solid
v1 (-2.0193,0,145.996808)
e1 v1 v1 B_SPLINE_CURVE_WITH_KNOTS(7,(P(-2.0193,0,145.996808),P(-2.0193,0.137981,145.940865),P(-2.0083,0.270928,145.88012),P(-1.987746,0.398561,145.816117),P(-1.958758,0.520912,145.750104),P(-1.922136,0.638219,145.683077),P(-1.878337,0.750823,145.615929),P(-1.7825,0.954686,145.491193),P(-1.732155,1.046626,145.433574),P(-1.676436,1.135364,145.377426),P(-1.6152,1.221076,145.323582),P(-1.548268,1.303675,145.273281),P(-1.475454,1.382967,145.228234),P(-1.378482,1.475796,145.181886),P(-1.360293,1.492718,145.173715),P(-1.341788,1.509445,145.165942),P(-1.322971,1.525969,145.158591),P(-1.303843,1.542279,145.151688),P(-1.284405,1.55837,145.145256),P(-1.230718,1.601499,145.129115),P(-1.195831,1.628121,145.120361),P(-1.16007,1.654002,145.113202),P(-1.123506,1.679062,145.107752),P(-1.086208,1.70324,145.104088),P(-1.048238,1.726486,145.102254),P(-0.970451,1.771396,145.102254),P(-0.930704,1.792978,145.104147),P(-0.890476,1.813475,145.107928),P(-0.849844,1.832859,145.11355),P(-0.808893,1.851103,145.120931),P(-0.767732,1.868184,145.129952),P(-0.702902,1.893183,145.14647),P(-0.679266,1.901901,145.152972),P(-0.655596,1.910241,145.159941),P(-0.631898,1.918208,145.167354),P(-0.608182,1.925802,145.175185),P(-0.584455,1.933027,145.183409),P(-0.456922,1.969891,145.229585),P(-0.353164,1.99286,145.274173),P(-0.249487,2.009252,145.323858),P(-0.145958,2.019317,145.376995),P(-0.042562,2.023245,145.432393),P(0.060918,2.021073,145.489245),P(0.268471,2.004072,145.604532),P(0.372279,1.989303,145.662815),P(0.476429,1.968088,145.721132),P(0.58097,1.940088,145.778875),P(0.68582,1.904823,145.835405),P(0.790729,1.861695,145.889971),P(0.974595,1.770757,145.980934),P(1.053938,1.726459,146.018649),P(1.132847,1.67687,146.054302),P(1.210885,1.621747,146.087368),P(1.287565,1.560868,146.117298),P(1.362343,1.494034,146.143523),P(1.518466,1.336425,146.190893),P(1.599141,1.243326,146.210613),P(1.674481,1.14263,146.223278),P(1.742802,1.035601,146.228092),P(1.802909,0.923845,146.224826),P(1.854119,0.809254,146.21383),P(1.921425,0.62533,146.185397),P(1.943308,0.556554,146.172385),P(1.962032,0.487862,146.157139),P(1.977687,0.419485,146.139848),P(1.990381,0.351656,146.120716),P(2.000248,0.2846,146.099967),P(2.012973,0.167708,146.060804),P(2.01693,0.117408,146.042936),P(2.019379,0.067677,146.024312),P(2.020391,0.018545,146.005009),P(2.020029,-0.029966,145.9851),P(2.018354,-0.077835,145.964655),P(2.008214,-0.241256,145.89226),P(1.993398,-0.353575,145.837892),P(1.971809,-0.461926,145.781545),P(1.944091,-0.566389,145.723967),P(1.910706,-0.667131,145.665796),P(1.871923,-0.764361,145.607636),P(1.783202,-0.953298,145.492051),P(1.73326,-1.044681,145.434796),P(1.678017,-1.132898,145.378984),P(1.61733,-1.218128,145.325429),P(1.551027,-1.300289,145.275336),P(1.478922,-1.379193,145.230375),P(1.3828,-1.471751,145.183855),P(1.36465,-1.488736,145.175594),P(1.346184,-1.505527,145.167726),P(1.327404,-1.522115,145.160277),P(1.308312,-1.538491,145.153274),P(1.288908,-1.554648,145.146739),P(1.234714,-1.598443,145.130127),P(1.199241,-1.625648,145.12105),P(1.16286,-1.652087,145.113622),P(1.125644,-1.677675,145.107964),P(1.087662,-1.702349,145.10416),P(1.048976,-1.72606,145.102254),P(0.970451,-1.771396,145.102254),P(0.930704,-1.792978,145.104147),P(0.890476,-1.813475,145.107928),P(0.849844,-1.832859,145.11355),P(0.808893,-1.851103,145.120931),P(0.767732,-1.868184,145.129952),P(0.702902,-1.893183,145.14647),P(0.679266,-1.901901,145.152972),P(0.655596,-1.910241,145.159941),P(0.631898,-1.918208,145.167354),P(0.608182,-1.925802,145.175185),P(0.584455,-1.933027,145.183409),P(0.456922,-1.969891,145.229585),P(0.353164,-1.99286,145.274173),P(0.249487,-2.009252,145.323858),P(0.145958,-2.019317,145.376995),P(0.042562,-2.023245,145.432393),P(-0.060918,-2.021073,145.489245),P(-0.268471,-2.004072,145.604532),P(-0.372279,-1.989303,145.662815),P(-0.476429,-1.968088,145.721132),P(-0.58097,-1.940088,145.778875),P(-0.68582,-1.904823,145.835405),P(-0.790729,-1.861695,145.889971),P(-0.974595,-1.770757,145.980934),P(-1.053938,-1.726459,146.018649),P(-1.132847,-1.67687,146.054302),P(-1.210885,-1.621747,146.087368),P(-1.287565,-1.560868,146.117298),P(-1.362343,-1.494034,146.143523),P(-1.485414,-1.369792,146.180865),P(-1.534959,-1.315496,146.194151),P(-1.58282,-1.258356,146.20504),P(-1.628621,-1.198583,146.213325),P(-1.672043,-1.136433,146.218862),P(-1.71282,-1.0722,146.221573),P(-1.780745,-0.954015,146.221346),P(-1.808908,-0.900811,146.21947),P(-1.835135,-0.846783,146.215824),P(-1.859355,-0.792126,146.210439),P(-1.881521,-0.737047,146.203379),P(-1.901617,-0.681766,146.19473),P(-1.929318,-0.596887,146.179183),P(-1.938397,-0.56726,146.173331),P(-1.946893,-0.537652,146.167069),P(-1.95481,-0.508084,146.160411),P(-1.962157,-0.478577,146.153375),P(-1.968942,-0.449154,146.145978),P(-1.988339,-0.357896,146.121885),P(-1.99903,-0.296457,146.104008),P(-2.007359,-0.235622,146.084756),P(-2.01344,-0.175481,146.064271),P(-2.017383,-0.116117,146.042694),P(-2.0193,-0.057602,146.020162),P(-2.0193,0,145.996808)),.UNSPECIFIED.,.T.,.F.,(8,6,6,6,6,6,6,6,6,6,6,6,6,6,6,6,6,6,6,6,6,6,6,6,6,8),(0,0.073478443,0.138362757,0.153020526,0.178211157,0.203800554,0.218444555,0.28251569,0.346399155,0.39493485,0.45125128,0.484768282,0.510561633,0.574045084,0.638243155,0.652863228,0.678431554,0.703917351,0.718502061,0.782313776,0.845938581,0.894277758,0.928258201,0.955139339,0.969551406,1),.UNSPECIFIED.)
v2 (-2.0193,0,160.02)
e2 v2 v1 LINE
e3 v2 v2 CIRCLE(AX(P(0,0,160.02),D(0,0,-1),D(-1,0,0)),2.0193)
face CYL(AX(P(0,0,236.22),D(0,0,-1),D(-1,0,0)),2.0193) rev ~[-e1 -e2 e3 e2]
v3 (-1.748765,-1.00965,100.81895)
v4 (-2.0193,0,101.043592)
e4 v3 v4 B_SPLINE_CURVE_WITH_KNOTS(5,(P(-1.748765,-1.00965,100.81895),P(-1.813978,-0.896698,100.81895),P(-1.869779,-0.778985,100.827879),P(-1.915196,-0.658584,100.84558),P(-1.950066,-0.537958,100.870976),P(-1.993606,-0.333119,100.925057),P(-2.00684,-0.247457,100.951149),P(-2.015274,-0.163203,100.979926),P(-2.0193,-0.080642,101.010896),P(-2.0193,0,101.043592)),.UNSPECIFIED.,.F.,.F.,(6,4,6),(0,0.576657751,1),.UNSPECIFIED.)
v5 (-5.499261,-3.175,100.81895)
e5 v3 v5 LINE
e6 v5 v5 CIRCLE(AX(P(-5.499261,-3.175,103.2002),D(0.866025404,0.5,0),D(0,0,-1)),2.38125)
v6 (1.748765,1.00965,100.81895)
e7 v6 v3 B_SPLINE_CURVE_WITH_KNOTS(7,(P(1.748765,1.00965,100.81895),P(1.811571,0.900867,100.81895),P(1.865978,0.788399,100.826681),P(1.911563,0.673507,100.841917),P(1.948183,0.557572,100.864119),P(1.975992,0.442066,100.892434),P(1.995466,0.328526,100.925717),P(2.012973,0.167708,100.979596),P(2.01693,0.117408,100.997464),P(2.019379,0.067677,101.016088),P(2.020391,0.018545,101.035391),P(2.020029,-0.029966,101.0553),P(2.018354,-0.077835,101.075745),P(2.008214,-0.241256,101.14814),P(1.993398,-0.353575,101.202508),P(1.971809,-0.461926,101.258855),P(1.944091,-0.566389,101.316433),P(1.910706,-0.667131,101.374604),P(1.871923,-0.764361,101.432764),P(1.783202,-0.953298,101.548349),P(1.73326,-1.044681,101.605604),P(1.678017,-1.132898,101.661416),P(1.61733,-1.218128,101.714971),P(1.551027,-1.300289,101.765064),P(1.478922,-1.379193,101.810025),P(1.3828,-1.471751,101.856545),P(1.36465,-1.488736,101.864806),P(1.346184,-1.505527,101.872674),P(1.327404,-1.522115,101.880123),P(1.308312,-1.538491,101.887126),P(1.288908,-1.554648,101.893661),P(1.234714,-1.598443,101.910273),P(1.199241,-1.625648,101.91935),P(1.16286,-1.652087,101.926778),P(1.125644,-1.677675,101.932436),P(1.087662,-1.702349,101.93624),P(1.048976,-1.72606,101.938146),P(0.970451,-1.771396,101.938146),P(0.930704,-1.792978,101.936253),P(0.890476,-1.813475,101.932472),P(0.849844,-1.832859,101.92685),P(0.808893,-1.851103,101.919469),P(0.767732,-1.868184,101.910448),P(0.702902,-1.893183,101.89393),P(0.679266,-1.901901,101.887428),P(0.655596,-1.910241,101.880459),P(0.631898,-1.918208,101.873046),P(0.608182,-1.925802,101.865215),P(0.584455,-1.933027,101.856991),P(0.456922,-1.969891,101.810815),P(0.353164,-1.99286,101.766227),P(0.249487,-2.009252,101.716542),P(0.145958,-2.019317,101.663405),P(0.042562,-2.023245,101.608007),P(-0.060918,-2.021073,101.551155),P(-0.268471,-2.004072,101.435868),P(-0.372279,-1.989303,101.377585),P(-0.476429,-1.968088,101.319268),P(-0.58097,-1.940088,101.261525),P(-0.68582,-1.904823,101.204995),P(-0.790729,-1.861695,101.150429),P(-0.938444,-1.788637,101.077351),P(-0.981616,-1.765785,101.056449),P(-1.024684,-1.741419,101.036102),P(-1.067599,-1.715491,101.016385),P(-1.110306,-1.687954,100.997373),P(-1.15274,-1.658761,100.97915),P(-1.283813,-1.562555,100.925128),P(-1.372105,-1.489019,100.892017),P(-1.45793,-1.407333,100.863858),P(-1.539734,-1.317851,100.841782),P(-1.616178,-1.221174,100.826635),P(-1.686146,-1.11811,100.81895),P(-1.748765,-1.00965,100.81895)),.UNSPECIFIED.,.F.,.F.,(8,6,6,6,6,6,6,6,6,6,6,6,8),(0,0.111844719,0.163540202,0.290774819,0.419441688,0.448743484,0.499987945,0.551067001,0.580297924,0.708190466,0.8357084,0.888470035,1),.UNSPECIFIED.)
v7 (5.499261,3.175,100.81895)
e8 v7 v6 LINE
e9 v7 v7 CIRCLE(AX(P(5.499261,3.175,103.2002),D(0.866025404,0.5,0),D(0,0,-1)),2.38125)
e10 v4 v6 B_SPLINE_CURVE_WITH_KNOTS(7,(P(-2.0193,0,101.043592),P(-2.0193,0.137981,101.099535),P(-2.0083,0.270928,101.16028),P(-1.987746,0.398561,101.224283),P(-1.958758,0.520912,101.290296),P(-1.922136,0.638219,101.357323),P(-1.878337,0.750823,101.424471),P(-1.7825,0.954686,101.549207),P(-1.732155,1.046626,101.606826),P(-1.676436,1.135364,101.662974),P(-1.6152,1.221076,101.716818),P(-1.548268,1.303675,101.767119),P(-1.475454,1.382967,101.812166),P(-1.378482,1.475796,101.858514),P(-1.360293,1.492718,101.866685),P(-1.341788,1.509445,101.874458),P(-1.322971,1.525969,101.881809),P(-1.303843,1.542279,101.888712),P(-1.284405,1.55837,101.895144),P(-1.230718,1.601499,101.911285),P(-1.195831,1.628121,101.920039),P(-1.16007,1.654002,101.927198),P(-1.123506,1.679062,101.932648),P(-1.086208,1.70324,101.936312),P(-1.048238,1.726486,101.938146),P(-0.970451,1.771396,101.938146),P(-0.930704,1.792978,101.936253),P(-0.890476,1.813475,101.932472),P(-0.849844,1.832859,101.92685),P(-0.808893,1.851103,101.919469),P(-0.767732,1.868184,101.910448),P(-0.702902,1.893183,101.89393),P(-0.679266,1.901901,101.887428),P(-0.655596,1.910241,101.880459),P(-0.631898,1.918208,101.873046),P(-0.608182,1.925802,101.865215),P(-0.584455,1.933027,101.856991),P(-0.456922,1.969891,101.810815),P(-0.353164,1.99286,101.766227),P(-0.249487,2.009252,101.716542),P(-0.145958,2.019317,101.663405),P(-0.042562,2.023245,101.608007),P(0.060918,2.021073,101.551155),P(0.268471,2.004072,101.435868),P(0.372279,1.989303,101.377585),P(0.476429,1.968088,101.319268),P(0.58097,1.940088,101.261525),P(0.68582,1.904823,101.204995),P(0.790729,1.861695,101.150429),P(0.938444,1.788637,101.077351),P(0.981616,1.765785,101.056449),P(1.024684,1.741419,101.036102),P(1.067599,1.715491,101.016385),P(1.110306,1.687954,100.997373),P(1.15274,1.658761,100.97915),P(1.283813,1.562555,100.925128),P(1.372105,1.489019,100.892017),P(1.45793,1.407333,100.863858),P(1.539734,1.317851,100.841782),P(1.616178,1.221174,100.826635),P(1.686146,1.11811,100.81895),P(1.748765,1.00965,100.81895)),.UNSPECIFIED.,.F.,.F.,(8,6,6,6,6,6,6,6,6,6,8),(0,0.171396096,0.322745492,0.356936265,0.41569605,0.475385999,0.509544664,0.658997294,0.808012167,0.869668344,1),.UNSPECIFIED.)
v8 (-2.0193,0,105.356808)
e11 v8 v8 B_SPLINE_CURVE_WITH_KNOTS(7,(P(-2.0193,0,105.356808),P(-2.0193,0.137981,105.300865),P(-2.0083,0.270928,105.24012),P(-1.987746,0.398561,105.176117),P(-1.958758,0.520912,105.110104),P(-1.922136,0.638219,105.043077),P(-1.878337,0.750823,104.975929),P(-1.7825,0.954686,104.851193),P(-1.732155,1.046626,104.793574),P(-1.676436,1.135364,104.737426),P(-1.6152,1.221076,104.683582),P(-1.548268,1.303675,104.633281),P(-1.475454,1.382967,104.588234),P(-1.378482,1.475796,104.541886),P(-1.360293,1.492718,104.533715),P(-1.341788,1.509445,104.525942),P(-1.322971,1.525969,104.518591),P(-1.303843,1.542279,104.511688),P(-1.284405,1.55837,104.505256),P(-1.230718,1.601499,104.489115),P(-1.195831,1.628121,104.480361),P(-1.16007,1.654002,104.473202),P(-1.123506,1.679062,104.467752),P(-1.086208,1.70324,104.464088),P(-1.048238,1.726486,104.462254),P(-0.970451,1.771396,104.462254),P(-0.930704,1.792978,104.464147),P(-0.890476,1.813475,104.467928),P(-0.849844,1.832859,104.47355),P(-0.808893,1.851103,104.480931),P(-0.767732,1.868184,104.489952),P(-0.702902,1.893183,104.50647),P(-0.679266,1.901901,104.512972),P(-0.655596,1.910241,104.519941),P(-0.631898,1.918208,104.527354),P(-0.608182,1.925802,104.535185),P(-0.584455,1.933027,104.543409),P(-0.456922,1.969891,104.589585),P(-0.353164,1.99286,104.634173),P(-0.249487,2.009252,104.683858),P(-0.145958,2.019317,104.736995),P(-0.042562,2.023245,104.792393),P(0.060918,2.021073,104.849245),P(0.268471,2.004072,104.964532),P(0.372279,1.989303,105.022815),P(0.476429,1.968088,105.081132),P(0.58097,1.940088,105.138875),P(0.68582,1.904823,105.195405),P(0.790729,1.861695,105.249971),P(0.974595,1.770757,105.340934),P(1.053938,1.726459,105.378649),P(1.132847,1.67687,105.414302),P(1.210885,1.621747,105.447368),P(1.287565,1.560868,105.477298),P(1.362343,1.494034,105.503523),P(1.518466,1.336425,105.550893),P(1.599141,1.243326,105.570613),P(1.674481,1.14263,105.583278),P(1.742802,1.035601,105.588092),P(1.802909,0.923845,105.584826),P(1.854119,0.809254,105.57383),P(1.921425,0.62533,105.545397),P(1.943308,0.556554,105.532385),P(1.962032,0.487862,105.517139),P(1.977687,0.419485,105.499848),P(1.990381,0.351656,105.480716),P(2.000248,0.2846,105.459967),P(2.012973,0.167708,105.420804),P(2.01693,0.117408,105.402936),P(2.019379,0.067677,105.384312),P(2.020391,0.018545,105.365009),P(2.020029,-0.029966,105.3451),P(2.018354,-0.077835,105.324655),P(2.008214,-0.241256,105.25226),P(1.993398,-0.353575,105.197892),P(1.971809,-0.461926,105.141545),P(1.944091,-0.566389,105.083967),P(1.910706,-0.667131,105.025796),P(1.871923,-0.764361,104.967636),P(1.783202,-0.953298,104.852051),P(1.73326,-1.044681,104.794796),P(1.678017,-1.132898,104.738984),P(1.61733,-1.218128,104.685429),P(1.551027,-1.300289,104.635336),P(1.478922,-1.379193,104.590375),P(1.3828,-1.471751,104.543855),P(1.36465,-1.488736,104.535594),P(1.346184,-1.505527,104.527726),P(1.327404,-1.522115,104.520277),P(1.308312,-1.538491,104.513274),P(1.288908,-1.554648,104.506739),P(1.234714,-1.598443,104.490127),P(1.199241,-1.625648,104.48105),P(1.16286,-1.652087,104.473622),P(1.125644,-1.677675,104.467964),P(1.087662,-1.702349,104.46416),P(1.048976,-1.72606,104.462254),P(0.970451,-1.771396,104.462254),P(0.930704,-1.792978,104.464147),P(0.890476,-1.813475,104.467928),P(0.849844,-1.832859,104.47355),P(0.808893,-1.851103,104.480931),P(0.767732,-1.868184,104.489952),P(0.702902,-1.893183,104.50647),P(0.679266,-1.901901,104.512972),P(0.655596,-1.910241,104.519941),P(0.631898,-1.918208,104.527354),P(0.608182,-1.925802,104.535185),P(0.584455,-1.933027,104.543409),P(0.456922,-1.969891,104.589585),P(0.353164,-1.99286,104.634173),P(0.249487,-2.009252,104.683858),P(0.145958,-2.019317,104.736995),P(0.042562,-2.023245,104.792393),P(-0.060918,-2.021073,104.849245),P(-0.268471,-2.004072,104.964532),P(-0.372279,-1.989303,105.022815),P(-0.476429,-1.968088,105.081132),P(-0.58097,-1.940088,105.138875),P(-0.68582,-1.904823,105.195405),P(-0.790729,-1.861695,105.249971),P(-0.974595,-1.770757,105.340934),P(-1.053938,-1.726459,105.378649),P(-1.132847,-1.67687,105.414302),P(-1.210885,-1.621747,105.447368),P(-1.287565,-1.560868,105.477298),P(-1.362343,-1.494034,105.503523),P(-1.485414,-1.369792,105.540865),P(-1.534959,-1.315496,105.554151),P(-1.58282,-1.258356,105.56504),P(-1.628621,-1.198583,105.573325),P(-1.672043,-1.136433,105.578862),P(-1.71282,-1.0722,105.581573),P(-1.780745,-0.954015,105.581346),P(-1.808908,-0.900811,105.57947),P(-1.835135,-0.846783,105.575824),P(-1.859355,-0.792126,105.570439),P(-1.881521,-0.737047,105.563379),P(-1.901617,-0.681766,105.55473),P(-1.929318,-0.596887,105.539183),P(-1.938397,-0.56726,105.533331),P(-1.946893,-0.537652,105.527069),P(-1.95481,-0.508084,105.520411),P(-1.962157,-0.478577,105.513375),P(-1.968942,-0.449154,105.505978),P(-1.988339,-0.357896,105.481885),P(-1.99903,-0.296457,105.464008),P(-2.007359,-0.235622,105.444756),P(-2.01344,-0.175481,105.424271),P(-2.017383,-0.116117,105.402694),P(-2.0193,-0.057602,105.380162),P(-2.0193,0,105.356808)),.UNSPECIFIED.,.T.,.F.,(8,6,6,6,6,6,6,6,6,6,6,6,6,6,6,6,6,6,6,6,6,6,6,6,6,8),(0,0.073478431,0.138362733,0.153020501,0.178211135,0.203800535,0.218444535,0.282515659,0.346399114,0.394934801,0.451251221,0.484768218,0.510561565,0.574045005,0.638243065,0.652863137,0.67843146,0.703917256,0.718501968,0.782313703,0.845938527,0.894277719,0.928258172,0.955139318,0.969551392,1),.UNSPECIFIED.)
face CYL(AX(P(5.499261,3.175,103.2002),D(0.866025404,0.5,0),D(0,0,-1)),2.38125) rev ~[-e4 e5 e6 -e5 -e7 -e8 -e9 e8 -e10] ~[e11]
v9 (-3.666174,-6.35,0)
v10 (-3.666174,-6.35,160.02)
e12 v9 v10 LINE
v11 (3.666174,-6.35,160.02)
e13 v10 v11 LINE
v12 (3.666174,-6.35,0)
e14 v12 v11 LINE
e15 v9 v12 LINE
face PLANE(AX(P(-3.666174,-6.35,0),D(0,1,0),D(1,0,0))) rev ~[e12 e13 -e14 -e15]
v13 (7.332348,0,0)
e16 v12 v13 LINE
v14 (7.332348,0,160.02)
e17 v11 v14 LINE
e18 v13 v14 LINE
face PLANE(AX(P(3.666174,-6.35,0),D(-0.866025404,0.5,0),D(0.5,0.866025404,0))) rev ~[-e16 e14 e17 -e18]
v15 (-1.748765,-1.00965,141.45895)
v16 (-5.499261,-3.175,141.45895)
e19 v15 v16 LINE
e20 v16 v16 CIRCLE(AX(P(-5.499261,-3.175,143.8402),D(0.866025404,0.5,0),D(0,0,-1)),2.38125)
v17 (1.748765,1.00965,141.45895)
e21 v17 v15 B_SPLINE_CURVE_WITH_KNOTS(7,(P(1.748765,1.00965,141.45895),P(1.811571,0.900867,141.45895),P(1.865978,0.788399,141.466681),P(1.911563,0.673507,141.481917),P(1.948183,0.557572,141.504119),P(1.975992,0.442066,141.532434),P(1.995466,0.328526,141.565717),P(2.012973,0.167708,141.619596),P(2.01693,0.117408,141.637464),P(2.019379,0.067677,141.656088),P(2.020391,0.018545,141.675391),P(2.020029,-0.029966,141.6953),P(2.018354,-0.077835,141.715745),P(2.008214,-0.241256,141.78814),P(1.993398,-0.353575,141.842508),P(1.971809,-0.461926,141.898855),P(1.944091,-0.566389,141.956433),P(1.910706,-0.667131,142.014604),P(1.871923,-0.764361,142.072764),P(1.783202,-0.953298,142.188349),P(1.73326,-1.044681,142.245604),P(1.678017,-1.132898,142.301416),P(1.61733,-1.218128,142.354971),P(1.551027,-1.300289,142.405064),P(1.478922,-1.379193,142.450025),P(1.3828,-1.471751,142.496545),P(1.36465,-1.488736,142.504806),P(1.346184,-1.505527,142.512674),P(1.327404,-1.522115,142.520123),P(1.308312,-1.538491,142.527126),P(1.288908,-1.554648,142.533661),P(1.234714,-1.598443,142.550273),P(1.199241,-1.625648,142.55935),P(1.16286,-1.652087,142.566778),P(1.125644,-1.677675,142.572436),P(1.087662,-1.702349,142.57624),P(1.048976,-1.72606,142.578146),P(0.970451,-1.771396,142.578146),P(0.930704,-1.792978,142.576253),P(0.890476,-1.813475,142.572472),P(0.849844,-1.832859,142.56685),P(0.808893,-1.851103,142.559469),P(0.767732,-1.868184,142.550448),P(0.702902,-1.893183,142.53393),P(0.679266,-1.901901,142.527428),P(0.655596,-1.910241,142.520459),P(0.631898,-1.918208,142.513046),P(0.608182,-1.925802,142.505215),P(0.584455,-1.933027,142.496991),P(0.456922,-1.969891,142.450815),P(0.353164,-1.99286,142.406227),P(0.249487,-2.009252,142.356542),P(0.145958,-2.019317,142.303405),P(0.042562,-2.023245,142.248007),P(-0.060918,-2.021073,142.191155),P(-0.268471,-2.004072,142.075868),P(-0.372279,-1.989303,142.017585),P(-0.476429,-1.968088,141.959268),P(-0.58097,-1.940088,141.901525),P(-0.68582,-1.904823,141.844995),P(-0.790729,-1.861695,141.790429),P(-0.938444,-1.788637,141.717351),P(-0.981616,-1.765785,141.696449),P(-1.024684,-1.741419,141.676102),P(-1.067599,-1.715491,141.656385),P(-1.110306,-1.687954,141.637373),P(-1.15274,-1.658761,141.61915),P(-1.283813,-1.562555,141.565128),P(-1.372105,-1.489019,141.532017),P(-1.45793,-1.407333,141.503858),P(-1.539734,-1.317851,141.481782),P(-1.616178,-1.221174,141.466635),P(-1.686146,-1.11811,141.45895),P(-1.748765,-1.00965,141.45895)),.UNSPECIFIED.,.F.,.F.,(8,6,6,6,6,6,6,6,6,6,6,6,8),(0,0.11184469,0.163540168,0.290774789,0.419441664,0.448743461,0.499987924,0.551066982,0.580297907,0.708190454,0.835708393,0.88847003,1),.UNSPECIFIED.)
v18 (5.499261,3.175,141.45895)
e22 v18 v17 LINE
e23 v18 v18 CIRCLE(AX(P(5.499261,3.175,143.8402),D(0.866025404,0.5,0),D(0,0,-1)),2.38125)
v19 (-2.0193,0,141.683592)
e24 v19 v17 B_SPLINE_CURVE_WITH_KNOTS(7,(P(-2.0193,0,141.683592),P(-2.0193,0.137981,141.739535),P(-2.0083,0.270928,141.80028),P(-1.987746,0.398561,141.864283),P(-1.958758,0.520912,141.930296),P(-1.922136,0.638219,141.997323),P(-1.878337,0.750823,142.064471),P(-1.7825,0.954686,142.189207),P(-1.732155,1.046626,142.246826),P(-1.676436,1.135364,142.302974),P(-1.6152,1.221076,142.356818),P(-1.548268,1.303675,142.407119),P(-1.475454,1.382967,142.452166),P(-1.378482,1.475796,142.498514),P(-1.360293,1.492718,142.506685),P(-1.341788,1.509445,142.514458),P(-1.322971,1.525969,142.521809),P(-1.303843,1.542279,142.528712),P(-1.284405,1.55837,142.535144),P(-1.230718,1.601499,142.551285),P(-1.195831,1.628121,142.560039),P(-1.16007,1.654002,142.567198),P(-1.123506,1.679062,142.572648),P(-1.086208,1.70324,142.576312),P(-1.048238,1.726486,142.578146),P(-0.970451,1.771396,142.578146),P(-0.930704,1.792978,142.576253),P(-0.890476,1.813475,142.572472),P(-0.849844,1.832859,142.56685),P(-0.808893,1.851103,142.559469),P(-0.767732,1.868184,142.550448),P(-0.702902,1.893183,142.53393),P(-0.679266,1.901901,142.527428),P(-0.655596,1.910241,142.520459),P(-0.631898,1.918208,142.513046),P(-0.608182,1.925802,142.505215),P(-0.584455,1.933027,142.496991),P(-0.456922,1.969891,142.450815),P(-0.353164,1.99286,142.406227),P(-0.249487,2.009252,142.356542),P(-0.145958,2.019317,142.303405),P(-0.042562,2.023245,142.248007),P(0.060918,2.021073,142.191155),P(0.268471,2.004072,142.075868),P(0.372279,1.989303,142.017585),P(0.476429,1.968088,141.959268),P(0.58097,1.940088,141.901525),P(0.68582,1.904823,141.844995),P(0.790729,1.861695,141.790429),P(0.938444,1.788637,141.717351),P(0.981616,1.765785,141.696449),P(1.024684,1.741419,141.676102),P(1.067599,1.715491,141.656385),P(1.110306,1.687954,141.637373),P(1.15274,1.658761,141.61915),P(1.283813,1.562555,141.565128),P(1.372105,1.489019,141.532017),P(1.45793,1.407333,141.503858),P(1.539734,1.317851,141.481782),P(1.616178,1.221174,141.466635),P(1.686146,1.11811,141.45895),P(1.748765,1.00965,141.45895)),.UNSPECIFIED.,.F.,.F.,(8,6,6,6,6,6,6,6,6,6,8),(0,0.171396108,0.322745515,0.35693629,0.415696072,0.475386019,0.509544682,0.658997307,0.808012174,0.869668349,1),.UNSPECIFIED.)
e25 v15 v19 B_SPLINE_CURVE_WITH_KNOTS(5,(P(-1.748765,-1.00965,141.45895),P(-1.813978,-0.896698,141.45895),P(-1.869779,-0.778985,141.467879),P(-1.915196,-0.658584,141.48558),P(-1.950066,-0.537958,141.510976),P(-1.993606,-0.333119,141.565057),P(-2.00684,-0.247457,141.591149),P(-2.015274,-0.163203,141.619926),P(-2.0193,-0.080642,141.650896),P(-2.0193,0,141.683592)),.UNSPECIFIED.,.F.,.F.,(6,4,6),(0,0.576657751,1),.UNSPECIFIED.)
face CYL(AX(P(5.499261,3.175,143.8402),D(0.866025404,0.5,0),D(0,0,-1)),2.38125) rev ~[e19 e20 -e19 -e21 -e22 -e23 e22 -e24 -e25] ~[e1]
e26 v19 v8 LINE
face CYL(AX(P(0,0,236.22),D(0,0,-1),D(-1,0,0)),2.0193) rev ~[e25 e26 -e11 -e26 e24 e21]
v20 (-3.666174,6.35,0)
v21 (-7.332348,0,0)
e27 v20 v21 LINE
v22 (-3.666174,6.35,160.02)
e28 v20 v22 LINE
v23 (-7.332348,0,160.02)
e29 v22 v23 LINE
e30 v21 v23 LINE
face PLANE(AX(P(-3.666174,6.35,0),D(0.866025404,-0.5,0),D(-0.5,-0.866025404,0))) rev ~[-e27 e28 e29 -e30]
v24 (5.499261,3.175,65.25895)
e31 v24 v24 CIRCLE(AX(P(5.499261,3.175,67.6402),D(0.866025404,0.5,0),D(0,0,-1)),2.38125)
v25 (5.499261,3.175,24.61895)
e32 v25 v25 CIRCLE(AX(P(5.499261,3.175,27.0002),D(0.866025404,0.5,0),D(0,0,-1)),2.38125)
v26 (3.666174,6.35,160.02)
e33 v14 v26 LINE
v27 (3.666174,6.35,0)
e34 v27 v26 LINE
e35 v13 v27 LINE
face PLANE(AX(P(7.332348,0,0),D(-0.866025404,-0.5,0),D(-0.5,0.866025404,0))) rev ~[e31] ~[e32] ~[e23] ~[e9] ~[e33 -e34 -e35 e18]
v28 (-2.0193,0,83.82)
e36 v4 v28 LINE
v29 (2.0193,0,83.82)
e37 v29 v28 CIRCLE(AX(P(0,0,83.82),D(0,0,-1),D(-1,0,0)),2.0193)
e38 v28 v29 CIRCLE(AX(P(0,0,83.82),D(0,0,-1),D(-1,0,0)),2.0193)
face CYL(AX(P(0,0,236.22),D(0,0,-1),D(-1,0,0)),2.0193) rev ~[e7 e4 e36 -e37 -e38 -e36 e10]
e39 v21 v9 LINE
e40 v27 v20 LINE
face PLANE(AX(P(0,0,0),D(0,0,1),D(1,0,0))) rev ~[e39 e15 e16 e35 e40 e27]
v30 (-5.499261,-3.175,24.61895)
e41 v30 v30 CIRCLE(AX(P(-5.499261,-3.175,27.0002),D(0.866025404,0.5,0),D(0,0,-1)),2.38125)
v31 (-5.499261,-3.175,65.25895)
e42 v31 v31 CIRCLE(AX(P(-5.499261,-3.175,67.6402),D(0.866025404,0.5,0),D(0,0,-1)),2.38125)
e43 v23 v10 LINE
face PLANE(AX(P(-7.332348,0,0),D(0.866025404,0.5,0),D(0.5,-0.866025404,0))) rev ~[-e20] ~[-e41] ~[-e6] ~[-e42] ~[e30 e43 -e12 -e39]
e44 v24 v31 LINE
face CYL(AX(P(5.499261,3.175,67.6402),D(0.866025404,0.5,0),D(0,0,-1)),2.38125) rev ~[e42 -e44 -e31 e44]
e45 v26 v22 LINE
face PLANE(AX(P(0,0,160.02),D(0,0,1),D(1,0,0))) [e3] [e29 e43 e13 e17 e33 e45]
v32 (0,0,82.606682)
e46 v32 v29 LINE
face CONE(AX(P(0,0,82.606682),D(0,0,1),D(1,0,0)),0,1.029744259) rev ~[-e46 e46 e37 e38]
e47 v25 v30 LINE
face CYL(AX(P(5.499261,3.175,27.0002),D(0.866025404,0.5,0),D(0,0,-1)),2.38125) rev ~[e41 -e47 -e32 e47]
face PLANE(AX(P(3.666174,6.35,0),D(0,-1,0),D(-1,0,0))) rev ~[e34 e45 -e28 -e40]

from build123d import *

# Parameters (mm, degrees)
BOSS_EXTRUDE1_DEPTH        = 160.02
F_10_32_TAPPED_HOLE1_D     = 4.0386
F_10_32_TAPPED_HOLE1_DEPTH = 76.2
F_10_32_TAPPED_HOLE1_TIP   = 1.213317848
SKETCH5_R                  = 2.38125
CUT_EXTRUDE1_DEPTH         = 4.175
CUT_EXTRUDE1_DEPTH_BACK    = 16.875


with BuildPart() as part:
    # Sketch1 → Boss-Extrude1 (new body)
    with BuildSketch(Plane.XY):
        Polygon((7.332348419, 0), (3.666174209, 6.35), (-3.666174209, 6.35), (-7.332348419, 0), (-3.666174209, -6.35), (3.666174209, -6.35), align=None)
    extrude(amount=BOSS_EXTRUDE1_DEPTH)

    # #10-32 Tapped Hole1
    with Locations(Plane.XY.offset(160.02)):
        with Locations((0, 0)):
            Hole(F_10_32_TAPPED_HOLE1_D / 2, depth=F_10_32_TAPPED_HOLE1_DEPTH)
            with Locations((0, 0, -(F_10_32_TAPPED_HOLE1_DEPTH + F_10_32_TAPPED_HOLE1_TIP / 2))):  # 118° drill point
                Cone(0, F_10_32_TAPPED_HOLE1_D / 2, F_10_32_TAPPED_HOLE1_TIP, mode=Mode.SUBTRACT)

    # Sketch5 → Cut-Extrude1 (cut, two sides)
    with BuildSketch(Plane(origin=(5.499261314, 3.175, 0), x_dir=(0, 0, -1), z_dir=(0.866025404, 0.5, 0))) as cut_extrude1_sk:
        with Locations((-27.0002, 0)):
            Circle(SKETCH5_R)
        with Locations((-67.6402, 0)):
            Circle(SKETCH5_R)
        with Locations((-103.2002, 0)):
            Circle(SKETCH5_R)
        with Locations((-143.8402, 0)):
            Circle(SKETCH5_R)
    extrude(amount=CUT_EXTRUDE1_DEPTH, mode=Mode.SUBTRACT)
    extrude(cut_extrude1_sk.sketch, amount=-CUT_EXTRUDE1_DEPTH_BACK, mode=Mode.SUBTRACT)


solid = part.part
